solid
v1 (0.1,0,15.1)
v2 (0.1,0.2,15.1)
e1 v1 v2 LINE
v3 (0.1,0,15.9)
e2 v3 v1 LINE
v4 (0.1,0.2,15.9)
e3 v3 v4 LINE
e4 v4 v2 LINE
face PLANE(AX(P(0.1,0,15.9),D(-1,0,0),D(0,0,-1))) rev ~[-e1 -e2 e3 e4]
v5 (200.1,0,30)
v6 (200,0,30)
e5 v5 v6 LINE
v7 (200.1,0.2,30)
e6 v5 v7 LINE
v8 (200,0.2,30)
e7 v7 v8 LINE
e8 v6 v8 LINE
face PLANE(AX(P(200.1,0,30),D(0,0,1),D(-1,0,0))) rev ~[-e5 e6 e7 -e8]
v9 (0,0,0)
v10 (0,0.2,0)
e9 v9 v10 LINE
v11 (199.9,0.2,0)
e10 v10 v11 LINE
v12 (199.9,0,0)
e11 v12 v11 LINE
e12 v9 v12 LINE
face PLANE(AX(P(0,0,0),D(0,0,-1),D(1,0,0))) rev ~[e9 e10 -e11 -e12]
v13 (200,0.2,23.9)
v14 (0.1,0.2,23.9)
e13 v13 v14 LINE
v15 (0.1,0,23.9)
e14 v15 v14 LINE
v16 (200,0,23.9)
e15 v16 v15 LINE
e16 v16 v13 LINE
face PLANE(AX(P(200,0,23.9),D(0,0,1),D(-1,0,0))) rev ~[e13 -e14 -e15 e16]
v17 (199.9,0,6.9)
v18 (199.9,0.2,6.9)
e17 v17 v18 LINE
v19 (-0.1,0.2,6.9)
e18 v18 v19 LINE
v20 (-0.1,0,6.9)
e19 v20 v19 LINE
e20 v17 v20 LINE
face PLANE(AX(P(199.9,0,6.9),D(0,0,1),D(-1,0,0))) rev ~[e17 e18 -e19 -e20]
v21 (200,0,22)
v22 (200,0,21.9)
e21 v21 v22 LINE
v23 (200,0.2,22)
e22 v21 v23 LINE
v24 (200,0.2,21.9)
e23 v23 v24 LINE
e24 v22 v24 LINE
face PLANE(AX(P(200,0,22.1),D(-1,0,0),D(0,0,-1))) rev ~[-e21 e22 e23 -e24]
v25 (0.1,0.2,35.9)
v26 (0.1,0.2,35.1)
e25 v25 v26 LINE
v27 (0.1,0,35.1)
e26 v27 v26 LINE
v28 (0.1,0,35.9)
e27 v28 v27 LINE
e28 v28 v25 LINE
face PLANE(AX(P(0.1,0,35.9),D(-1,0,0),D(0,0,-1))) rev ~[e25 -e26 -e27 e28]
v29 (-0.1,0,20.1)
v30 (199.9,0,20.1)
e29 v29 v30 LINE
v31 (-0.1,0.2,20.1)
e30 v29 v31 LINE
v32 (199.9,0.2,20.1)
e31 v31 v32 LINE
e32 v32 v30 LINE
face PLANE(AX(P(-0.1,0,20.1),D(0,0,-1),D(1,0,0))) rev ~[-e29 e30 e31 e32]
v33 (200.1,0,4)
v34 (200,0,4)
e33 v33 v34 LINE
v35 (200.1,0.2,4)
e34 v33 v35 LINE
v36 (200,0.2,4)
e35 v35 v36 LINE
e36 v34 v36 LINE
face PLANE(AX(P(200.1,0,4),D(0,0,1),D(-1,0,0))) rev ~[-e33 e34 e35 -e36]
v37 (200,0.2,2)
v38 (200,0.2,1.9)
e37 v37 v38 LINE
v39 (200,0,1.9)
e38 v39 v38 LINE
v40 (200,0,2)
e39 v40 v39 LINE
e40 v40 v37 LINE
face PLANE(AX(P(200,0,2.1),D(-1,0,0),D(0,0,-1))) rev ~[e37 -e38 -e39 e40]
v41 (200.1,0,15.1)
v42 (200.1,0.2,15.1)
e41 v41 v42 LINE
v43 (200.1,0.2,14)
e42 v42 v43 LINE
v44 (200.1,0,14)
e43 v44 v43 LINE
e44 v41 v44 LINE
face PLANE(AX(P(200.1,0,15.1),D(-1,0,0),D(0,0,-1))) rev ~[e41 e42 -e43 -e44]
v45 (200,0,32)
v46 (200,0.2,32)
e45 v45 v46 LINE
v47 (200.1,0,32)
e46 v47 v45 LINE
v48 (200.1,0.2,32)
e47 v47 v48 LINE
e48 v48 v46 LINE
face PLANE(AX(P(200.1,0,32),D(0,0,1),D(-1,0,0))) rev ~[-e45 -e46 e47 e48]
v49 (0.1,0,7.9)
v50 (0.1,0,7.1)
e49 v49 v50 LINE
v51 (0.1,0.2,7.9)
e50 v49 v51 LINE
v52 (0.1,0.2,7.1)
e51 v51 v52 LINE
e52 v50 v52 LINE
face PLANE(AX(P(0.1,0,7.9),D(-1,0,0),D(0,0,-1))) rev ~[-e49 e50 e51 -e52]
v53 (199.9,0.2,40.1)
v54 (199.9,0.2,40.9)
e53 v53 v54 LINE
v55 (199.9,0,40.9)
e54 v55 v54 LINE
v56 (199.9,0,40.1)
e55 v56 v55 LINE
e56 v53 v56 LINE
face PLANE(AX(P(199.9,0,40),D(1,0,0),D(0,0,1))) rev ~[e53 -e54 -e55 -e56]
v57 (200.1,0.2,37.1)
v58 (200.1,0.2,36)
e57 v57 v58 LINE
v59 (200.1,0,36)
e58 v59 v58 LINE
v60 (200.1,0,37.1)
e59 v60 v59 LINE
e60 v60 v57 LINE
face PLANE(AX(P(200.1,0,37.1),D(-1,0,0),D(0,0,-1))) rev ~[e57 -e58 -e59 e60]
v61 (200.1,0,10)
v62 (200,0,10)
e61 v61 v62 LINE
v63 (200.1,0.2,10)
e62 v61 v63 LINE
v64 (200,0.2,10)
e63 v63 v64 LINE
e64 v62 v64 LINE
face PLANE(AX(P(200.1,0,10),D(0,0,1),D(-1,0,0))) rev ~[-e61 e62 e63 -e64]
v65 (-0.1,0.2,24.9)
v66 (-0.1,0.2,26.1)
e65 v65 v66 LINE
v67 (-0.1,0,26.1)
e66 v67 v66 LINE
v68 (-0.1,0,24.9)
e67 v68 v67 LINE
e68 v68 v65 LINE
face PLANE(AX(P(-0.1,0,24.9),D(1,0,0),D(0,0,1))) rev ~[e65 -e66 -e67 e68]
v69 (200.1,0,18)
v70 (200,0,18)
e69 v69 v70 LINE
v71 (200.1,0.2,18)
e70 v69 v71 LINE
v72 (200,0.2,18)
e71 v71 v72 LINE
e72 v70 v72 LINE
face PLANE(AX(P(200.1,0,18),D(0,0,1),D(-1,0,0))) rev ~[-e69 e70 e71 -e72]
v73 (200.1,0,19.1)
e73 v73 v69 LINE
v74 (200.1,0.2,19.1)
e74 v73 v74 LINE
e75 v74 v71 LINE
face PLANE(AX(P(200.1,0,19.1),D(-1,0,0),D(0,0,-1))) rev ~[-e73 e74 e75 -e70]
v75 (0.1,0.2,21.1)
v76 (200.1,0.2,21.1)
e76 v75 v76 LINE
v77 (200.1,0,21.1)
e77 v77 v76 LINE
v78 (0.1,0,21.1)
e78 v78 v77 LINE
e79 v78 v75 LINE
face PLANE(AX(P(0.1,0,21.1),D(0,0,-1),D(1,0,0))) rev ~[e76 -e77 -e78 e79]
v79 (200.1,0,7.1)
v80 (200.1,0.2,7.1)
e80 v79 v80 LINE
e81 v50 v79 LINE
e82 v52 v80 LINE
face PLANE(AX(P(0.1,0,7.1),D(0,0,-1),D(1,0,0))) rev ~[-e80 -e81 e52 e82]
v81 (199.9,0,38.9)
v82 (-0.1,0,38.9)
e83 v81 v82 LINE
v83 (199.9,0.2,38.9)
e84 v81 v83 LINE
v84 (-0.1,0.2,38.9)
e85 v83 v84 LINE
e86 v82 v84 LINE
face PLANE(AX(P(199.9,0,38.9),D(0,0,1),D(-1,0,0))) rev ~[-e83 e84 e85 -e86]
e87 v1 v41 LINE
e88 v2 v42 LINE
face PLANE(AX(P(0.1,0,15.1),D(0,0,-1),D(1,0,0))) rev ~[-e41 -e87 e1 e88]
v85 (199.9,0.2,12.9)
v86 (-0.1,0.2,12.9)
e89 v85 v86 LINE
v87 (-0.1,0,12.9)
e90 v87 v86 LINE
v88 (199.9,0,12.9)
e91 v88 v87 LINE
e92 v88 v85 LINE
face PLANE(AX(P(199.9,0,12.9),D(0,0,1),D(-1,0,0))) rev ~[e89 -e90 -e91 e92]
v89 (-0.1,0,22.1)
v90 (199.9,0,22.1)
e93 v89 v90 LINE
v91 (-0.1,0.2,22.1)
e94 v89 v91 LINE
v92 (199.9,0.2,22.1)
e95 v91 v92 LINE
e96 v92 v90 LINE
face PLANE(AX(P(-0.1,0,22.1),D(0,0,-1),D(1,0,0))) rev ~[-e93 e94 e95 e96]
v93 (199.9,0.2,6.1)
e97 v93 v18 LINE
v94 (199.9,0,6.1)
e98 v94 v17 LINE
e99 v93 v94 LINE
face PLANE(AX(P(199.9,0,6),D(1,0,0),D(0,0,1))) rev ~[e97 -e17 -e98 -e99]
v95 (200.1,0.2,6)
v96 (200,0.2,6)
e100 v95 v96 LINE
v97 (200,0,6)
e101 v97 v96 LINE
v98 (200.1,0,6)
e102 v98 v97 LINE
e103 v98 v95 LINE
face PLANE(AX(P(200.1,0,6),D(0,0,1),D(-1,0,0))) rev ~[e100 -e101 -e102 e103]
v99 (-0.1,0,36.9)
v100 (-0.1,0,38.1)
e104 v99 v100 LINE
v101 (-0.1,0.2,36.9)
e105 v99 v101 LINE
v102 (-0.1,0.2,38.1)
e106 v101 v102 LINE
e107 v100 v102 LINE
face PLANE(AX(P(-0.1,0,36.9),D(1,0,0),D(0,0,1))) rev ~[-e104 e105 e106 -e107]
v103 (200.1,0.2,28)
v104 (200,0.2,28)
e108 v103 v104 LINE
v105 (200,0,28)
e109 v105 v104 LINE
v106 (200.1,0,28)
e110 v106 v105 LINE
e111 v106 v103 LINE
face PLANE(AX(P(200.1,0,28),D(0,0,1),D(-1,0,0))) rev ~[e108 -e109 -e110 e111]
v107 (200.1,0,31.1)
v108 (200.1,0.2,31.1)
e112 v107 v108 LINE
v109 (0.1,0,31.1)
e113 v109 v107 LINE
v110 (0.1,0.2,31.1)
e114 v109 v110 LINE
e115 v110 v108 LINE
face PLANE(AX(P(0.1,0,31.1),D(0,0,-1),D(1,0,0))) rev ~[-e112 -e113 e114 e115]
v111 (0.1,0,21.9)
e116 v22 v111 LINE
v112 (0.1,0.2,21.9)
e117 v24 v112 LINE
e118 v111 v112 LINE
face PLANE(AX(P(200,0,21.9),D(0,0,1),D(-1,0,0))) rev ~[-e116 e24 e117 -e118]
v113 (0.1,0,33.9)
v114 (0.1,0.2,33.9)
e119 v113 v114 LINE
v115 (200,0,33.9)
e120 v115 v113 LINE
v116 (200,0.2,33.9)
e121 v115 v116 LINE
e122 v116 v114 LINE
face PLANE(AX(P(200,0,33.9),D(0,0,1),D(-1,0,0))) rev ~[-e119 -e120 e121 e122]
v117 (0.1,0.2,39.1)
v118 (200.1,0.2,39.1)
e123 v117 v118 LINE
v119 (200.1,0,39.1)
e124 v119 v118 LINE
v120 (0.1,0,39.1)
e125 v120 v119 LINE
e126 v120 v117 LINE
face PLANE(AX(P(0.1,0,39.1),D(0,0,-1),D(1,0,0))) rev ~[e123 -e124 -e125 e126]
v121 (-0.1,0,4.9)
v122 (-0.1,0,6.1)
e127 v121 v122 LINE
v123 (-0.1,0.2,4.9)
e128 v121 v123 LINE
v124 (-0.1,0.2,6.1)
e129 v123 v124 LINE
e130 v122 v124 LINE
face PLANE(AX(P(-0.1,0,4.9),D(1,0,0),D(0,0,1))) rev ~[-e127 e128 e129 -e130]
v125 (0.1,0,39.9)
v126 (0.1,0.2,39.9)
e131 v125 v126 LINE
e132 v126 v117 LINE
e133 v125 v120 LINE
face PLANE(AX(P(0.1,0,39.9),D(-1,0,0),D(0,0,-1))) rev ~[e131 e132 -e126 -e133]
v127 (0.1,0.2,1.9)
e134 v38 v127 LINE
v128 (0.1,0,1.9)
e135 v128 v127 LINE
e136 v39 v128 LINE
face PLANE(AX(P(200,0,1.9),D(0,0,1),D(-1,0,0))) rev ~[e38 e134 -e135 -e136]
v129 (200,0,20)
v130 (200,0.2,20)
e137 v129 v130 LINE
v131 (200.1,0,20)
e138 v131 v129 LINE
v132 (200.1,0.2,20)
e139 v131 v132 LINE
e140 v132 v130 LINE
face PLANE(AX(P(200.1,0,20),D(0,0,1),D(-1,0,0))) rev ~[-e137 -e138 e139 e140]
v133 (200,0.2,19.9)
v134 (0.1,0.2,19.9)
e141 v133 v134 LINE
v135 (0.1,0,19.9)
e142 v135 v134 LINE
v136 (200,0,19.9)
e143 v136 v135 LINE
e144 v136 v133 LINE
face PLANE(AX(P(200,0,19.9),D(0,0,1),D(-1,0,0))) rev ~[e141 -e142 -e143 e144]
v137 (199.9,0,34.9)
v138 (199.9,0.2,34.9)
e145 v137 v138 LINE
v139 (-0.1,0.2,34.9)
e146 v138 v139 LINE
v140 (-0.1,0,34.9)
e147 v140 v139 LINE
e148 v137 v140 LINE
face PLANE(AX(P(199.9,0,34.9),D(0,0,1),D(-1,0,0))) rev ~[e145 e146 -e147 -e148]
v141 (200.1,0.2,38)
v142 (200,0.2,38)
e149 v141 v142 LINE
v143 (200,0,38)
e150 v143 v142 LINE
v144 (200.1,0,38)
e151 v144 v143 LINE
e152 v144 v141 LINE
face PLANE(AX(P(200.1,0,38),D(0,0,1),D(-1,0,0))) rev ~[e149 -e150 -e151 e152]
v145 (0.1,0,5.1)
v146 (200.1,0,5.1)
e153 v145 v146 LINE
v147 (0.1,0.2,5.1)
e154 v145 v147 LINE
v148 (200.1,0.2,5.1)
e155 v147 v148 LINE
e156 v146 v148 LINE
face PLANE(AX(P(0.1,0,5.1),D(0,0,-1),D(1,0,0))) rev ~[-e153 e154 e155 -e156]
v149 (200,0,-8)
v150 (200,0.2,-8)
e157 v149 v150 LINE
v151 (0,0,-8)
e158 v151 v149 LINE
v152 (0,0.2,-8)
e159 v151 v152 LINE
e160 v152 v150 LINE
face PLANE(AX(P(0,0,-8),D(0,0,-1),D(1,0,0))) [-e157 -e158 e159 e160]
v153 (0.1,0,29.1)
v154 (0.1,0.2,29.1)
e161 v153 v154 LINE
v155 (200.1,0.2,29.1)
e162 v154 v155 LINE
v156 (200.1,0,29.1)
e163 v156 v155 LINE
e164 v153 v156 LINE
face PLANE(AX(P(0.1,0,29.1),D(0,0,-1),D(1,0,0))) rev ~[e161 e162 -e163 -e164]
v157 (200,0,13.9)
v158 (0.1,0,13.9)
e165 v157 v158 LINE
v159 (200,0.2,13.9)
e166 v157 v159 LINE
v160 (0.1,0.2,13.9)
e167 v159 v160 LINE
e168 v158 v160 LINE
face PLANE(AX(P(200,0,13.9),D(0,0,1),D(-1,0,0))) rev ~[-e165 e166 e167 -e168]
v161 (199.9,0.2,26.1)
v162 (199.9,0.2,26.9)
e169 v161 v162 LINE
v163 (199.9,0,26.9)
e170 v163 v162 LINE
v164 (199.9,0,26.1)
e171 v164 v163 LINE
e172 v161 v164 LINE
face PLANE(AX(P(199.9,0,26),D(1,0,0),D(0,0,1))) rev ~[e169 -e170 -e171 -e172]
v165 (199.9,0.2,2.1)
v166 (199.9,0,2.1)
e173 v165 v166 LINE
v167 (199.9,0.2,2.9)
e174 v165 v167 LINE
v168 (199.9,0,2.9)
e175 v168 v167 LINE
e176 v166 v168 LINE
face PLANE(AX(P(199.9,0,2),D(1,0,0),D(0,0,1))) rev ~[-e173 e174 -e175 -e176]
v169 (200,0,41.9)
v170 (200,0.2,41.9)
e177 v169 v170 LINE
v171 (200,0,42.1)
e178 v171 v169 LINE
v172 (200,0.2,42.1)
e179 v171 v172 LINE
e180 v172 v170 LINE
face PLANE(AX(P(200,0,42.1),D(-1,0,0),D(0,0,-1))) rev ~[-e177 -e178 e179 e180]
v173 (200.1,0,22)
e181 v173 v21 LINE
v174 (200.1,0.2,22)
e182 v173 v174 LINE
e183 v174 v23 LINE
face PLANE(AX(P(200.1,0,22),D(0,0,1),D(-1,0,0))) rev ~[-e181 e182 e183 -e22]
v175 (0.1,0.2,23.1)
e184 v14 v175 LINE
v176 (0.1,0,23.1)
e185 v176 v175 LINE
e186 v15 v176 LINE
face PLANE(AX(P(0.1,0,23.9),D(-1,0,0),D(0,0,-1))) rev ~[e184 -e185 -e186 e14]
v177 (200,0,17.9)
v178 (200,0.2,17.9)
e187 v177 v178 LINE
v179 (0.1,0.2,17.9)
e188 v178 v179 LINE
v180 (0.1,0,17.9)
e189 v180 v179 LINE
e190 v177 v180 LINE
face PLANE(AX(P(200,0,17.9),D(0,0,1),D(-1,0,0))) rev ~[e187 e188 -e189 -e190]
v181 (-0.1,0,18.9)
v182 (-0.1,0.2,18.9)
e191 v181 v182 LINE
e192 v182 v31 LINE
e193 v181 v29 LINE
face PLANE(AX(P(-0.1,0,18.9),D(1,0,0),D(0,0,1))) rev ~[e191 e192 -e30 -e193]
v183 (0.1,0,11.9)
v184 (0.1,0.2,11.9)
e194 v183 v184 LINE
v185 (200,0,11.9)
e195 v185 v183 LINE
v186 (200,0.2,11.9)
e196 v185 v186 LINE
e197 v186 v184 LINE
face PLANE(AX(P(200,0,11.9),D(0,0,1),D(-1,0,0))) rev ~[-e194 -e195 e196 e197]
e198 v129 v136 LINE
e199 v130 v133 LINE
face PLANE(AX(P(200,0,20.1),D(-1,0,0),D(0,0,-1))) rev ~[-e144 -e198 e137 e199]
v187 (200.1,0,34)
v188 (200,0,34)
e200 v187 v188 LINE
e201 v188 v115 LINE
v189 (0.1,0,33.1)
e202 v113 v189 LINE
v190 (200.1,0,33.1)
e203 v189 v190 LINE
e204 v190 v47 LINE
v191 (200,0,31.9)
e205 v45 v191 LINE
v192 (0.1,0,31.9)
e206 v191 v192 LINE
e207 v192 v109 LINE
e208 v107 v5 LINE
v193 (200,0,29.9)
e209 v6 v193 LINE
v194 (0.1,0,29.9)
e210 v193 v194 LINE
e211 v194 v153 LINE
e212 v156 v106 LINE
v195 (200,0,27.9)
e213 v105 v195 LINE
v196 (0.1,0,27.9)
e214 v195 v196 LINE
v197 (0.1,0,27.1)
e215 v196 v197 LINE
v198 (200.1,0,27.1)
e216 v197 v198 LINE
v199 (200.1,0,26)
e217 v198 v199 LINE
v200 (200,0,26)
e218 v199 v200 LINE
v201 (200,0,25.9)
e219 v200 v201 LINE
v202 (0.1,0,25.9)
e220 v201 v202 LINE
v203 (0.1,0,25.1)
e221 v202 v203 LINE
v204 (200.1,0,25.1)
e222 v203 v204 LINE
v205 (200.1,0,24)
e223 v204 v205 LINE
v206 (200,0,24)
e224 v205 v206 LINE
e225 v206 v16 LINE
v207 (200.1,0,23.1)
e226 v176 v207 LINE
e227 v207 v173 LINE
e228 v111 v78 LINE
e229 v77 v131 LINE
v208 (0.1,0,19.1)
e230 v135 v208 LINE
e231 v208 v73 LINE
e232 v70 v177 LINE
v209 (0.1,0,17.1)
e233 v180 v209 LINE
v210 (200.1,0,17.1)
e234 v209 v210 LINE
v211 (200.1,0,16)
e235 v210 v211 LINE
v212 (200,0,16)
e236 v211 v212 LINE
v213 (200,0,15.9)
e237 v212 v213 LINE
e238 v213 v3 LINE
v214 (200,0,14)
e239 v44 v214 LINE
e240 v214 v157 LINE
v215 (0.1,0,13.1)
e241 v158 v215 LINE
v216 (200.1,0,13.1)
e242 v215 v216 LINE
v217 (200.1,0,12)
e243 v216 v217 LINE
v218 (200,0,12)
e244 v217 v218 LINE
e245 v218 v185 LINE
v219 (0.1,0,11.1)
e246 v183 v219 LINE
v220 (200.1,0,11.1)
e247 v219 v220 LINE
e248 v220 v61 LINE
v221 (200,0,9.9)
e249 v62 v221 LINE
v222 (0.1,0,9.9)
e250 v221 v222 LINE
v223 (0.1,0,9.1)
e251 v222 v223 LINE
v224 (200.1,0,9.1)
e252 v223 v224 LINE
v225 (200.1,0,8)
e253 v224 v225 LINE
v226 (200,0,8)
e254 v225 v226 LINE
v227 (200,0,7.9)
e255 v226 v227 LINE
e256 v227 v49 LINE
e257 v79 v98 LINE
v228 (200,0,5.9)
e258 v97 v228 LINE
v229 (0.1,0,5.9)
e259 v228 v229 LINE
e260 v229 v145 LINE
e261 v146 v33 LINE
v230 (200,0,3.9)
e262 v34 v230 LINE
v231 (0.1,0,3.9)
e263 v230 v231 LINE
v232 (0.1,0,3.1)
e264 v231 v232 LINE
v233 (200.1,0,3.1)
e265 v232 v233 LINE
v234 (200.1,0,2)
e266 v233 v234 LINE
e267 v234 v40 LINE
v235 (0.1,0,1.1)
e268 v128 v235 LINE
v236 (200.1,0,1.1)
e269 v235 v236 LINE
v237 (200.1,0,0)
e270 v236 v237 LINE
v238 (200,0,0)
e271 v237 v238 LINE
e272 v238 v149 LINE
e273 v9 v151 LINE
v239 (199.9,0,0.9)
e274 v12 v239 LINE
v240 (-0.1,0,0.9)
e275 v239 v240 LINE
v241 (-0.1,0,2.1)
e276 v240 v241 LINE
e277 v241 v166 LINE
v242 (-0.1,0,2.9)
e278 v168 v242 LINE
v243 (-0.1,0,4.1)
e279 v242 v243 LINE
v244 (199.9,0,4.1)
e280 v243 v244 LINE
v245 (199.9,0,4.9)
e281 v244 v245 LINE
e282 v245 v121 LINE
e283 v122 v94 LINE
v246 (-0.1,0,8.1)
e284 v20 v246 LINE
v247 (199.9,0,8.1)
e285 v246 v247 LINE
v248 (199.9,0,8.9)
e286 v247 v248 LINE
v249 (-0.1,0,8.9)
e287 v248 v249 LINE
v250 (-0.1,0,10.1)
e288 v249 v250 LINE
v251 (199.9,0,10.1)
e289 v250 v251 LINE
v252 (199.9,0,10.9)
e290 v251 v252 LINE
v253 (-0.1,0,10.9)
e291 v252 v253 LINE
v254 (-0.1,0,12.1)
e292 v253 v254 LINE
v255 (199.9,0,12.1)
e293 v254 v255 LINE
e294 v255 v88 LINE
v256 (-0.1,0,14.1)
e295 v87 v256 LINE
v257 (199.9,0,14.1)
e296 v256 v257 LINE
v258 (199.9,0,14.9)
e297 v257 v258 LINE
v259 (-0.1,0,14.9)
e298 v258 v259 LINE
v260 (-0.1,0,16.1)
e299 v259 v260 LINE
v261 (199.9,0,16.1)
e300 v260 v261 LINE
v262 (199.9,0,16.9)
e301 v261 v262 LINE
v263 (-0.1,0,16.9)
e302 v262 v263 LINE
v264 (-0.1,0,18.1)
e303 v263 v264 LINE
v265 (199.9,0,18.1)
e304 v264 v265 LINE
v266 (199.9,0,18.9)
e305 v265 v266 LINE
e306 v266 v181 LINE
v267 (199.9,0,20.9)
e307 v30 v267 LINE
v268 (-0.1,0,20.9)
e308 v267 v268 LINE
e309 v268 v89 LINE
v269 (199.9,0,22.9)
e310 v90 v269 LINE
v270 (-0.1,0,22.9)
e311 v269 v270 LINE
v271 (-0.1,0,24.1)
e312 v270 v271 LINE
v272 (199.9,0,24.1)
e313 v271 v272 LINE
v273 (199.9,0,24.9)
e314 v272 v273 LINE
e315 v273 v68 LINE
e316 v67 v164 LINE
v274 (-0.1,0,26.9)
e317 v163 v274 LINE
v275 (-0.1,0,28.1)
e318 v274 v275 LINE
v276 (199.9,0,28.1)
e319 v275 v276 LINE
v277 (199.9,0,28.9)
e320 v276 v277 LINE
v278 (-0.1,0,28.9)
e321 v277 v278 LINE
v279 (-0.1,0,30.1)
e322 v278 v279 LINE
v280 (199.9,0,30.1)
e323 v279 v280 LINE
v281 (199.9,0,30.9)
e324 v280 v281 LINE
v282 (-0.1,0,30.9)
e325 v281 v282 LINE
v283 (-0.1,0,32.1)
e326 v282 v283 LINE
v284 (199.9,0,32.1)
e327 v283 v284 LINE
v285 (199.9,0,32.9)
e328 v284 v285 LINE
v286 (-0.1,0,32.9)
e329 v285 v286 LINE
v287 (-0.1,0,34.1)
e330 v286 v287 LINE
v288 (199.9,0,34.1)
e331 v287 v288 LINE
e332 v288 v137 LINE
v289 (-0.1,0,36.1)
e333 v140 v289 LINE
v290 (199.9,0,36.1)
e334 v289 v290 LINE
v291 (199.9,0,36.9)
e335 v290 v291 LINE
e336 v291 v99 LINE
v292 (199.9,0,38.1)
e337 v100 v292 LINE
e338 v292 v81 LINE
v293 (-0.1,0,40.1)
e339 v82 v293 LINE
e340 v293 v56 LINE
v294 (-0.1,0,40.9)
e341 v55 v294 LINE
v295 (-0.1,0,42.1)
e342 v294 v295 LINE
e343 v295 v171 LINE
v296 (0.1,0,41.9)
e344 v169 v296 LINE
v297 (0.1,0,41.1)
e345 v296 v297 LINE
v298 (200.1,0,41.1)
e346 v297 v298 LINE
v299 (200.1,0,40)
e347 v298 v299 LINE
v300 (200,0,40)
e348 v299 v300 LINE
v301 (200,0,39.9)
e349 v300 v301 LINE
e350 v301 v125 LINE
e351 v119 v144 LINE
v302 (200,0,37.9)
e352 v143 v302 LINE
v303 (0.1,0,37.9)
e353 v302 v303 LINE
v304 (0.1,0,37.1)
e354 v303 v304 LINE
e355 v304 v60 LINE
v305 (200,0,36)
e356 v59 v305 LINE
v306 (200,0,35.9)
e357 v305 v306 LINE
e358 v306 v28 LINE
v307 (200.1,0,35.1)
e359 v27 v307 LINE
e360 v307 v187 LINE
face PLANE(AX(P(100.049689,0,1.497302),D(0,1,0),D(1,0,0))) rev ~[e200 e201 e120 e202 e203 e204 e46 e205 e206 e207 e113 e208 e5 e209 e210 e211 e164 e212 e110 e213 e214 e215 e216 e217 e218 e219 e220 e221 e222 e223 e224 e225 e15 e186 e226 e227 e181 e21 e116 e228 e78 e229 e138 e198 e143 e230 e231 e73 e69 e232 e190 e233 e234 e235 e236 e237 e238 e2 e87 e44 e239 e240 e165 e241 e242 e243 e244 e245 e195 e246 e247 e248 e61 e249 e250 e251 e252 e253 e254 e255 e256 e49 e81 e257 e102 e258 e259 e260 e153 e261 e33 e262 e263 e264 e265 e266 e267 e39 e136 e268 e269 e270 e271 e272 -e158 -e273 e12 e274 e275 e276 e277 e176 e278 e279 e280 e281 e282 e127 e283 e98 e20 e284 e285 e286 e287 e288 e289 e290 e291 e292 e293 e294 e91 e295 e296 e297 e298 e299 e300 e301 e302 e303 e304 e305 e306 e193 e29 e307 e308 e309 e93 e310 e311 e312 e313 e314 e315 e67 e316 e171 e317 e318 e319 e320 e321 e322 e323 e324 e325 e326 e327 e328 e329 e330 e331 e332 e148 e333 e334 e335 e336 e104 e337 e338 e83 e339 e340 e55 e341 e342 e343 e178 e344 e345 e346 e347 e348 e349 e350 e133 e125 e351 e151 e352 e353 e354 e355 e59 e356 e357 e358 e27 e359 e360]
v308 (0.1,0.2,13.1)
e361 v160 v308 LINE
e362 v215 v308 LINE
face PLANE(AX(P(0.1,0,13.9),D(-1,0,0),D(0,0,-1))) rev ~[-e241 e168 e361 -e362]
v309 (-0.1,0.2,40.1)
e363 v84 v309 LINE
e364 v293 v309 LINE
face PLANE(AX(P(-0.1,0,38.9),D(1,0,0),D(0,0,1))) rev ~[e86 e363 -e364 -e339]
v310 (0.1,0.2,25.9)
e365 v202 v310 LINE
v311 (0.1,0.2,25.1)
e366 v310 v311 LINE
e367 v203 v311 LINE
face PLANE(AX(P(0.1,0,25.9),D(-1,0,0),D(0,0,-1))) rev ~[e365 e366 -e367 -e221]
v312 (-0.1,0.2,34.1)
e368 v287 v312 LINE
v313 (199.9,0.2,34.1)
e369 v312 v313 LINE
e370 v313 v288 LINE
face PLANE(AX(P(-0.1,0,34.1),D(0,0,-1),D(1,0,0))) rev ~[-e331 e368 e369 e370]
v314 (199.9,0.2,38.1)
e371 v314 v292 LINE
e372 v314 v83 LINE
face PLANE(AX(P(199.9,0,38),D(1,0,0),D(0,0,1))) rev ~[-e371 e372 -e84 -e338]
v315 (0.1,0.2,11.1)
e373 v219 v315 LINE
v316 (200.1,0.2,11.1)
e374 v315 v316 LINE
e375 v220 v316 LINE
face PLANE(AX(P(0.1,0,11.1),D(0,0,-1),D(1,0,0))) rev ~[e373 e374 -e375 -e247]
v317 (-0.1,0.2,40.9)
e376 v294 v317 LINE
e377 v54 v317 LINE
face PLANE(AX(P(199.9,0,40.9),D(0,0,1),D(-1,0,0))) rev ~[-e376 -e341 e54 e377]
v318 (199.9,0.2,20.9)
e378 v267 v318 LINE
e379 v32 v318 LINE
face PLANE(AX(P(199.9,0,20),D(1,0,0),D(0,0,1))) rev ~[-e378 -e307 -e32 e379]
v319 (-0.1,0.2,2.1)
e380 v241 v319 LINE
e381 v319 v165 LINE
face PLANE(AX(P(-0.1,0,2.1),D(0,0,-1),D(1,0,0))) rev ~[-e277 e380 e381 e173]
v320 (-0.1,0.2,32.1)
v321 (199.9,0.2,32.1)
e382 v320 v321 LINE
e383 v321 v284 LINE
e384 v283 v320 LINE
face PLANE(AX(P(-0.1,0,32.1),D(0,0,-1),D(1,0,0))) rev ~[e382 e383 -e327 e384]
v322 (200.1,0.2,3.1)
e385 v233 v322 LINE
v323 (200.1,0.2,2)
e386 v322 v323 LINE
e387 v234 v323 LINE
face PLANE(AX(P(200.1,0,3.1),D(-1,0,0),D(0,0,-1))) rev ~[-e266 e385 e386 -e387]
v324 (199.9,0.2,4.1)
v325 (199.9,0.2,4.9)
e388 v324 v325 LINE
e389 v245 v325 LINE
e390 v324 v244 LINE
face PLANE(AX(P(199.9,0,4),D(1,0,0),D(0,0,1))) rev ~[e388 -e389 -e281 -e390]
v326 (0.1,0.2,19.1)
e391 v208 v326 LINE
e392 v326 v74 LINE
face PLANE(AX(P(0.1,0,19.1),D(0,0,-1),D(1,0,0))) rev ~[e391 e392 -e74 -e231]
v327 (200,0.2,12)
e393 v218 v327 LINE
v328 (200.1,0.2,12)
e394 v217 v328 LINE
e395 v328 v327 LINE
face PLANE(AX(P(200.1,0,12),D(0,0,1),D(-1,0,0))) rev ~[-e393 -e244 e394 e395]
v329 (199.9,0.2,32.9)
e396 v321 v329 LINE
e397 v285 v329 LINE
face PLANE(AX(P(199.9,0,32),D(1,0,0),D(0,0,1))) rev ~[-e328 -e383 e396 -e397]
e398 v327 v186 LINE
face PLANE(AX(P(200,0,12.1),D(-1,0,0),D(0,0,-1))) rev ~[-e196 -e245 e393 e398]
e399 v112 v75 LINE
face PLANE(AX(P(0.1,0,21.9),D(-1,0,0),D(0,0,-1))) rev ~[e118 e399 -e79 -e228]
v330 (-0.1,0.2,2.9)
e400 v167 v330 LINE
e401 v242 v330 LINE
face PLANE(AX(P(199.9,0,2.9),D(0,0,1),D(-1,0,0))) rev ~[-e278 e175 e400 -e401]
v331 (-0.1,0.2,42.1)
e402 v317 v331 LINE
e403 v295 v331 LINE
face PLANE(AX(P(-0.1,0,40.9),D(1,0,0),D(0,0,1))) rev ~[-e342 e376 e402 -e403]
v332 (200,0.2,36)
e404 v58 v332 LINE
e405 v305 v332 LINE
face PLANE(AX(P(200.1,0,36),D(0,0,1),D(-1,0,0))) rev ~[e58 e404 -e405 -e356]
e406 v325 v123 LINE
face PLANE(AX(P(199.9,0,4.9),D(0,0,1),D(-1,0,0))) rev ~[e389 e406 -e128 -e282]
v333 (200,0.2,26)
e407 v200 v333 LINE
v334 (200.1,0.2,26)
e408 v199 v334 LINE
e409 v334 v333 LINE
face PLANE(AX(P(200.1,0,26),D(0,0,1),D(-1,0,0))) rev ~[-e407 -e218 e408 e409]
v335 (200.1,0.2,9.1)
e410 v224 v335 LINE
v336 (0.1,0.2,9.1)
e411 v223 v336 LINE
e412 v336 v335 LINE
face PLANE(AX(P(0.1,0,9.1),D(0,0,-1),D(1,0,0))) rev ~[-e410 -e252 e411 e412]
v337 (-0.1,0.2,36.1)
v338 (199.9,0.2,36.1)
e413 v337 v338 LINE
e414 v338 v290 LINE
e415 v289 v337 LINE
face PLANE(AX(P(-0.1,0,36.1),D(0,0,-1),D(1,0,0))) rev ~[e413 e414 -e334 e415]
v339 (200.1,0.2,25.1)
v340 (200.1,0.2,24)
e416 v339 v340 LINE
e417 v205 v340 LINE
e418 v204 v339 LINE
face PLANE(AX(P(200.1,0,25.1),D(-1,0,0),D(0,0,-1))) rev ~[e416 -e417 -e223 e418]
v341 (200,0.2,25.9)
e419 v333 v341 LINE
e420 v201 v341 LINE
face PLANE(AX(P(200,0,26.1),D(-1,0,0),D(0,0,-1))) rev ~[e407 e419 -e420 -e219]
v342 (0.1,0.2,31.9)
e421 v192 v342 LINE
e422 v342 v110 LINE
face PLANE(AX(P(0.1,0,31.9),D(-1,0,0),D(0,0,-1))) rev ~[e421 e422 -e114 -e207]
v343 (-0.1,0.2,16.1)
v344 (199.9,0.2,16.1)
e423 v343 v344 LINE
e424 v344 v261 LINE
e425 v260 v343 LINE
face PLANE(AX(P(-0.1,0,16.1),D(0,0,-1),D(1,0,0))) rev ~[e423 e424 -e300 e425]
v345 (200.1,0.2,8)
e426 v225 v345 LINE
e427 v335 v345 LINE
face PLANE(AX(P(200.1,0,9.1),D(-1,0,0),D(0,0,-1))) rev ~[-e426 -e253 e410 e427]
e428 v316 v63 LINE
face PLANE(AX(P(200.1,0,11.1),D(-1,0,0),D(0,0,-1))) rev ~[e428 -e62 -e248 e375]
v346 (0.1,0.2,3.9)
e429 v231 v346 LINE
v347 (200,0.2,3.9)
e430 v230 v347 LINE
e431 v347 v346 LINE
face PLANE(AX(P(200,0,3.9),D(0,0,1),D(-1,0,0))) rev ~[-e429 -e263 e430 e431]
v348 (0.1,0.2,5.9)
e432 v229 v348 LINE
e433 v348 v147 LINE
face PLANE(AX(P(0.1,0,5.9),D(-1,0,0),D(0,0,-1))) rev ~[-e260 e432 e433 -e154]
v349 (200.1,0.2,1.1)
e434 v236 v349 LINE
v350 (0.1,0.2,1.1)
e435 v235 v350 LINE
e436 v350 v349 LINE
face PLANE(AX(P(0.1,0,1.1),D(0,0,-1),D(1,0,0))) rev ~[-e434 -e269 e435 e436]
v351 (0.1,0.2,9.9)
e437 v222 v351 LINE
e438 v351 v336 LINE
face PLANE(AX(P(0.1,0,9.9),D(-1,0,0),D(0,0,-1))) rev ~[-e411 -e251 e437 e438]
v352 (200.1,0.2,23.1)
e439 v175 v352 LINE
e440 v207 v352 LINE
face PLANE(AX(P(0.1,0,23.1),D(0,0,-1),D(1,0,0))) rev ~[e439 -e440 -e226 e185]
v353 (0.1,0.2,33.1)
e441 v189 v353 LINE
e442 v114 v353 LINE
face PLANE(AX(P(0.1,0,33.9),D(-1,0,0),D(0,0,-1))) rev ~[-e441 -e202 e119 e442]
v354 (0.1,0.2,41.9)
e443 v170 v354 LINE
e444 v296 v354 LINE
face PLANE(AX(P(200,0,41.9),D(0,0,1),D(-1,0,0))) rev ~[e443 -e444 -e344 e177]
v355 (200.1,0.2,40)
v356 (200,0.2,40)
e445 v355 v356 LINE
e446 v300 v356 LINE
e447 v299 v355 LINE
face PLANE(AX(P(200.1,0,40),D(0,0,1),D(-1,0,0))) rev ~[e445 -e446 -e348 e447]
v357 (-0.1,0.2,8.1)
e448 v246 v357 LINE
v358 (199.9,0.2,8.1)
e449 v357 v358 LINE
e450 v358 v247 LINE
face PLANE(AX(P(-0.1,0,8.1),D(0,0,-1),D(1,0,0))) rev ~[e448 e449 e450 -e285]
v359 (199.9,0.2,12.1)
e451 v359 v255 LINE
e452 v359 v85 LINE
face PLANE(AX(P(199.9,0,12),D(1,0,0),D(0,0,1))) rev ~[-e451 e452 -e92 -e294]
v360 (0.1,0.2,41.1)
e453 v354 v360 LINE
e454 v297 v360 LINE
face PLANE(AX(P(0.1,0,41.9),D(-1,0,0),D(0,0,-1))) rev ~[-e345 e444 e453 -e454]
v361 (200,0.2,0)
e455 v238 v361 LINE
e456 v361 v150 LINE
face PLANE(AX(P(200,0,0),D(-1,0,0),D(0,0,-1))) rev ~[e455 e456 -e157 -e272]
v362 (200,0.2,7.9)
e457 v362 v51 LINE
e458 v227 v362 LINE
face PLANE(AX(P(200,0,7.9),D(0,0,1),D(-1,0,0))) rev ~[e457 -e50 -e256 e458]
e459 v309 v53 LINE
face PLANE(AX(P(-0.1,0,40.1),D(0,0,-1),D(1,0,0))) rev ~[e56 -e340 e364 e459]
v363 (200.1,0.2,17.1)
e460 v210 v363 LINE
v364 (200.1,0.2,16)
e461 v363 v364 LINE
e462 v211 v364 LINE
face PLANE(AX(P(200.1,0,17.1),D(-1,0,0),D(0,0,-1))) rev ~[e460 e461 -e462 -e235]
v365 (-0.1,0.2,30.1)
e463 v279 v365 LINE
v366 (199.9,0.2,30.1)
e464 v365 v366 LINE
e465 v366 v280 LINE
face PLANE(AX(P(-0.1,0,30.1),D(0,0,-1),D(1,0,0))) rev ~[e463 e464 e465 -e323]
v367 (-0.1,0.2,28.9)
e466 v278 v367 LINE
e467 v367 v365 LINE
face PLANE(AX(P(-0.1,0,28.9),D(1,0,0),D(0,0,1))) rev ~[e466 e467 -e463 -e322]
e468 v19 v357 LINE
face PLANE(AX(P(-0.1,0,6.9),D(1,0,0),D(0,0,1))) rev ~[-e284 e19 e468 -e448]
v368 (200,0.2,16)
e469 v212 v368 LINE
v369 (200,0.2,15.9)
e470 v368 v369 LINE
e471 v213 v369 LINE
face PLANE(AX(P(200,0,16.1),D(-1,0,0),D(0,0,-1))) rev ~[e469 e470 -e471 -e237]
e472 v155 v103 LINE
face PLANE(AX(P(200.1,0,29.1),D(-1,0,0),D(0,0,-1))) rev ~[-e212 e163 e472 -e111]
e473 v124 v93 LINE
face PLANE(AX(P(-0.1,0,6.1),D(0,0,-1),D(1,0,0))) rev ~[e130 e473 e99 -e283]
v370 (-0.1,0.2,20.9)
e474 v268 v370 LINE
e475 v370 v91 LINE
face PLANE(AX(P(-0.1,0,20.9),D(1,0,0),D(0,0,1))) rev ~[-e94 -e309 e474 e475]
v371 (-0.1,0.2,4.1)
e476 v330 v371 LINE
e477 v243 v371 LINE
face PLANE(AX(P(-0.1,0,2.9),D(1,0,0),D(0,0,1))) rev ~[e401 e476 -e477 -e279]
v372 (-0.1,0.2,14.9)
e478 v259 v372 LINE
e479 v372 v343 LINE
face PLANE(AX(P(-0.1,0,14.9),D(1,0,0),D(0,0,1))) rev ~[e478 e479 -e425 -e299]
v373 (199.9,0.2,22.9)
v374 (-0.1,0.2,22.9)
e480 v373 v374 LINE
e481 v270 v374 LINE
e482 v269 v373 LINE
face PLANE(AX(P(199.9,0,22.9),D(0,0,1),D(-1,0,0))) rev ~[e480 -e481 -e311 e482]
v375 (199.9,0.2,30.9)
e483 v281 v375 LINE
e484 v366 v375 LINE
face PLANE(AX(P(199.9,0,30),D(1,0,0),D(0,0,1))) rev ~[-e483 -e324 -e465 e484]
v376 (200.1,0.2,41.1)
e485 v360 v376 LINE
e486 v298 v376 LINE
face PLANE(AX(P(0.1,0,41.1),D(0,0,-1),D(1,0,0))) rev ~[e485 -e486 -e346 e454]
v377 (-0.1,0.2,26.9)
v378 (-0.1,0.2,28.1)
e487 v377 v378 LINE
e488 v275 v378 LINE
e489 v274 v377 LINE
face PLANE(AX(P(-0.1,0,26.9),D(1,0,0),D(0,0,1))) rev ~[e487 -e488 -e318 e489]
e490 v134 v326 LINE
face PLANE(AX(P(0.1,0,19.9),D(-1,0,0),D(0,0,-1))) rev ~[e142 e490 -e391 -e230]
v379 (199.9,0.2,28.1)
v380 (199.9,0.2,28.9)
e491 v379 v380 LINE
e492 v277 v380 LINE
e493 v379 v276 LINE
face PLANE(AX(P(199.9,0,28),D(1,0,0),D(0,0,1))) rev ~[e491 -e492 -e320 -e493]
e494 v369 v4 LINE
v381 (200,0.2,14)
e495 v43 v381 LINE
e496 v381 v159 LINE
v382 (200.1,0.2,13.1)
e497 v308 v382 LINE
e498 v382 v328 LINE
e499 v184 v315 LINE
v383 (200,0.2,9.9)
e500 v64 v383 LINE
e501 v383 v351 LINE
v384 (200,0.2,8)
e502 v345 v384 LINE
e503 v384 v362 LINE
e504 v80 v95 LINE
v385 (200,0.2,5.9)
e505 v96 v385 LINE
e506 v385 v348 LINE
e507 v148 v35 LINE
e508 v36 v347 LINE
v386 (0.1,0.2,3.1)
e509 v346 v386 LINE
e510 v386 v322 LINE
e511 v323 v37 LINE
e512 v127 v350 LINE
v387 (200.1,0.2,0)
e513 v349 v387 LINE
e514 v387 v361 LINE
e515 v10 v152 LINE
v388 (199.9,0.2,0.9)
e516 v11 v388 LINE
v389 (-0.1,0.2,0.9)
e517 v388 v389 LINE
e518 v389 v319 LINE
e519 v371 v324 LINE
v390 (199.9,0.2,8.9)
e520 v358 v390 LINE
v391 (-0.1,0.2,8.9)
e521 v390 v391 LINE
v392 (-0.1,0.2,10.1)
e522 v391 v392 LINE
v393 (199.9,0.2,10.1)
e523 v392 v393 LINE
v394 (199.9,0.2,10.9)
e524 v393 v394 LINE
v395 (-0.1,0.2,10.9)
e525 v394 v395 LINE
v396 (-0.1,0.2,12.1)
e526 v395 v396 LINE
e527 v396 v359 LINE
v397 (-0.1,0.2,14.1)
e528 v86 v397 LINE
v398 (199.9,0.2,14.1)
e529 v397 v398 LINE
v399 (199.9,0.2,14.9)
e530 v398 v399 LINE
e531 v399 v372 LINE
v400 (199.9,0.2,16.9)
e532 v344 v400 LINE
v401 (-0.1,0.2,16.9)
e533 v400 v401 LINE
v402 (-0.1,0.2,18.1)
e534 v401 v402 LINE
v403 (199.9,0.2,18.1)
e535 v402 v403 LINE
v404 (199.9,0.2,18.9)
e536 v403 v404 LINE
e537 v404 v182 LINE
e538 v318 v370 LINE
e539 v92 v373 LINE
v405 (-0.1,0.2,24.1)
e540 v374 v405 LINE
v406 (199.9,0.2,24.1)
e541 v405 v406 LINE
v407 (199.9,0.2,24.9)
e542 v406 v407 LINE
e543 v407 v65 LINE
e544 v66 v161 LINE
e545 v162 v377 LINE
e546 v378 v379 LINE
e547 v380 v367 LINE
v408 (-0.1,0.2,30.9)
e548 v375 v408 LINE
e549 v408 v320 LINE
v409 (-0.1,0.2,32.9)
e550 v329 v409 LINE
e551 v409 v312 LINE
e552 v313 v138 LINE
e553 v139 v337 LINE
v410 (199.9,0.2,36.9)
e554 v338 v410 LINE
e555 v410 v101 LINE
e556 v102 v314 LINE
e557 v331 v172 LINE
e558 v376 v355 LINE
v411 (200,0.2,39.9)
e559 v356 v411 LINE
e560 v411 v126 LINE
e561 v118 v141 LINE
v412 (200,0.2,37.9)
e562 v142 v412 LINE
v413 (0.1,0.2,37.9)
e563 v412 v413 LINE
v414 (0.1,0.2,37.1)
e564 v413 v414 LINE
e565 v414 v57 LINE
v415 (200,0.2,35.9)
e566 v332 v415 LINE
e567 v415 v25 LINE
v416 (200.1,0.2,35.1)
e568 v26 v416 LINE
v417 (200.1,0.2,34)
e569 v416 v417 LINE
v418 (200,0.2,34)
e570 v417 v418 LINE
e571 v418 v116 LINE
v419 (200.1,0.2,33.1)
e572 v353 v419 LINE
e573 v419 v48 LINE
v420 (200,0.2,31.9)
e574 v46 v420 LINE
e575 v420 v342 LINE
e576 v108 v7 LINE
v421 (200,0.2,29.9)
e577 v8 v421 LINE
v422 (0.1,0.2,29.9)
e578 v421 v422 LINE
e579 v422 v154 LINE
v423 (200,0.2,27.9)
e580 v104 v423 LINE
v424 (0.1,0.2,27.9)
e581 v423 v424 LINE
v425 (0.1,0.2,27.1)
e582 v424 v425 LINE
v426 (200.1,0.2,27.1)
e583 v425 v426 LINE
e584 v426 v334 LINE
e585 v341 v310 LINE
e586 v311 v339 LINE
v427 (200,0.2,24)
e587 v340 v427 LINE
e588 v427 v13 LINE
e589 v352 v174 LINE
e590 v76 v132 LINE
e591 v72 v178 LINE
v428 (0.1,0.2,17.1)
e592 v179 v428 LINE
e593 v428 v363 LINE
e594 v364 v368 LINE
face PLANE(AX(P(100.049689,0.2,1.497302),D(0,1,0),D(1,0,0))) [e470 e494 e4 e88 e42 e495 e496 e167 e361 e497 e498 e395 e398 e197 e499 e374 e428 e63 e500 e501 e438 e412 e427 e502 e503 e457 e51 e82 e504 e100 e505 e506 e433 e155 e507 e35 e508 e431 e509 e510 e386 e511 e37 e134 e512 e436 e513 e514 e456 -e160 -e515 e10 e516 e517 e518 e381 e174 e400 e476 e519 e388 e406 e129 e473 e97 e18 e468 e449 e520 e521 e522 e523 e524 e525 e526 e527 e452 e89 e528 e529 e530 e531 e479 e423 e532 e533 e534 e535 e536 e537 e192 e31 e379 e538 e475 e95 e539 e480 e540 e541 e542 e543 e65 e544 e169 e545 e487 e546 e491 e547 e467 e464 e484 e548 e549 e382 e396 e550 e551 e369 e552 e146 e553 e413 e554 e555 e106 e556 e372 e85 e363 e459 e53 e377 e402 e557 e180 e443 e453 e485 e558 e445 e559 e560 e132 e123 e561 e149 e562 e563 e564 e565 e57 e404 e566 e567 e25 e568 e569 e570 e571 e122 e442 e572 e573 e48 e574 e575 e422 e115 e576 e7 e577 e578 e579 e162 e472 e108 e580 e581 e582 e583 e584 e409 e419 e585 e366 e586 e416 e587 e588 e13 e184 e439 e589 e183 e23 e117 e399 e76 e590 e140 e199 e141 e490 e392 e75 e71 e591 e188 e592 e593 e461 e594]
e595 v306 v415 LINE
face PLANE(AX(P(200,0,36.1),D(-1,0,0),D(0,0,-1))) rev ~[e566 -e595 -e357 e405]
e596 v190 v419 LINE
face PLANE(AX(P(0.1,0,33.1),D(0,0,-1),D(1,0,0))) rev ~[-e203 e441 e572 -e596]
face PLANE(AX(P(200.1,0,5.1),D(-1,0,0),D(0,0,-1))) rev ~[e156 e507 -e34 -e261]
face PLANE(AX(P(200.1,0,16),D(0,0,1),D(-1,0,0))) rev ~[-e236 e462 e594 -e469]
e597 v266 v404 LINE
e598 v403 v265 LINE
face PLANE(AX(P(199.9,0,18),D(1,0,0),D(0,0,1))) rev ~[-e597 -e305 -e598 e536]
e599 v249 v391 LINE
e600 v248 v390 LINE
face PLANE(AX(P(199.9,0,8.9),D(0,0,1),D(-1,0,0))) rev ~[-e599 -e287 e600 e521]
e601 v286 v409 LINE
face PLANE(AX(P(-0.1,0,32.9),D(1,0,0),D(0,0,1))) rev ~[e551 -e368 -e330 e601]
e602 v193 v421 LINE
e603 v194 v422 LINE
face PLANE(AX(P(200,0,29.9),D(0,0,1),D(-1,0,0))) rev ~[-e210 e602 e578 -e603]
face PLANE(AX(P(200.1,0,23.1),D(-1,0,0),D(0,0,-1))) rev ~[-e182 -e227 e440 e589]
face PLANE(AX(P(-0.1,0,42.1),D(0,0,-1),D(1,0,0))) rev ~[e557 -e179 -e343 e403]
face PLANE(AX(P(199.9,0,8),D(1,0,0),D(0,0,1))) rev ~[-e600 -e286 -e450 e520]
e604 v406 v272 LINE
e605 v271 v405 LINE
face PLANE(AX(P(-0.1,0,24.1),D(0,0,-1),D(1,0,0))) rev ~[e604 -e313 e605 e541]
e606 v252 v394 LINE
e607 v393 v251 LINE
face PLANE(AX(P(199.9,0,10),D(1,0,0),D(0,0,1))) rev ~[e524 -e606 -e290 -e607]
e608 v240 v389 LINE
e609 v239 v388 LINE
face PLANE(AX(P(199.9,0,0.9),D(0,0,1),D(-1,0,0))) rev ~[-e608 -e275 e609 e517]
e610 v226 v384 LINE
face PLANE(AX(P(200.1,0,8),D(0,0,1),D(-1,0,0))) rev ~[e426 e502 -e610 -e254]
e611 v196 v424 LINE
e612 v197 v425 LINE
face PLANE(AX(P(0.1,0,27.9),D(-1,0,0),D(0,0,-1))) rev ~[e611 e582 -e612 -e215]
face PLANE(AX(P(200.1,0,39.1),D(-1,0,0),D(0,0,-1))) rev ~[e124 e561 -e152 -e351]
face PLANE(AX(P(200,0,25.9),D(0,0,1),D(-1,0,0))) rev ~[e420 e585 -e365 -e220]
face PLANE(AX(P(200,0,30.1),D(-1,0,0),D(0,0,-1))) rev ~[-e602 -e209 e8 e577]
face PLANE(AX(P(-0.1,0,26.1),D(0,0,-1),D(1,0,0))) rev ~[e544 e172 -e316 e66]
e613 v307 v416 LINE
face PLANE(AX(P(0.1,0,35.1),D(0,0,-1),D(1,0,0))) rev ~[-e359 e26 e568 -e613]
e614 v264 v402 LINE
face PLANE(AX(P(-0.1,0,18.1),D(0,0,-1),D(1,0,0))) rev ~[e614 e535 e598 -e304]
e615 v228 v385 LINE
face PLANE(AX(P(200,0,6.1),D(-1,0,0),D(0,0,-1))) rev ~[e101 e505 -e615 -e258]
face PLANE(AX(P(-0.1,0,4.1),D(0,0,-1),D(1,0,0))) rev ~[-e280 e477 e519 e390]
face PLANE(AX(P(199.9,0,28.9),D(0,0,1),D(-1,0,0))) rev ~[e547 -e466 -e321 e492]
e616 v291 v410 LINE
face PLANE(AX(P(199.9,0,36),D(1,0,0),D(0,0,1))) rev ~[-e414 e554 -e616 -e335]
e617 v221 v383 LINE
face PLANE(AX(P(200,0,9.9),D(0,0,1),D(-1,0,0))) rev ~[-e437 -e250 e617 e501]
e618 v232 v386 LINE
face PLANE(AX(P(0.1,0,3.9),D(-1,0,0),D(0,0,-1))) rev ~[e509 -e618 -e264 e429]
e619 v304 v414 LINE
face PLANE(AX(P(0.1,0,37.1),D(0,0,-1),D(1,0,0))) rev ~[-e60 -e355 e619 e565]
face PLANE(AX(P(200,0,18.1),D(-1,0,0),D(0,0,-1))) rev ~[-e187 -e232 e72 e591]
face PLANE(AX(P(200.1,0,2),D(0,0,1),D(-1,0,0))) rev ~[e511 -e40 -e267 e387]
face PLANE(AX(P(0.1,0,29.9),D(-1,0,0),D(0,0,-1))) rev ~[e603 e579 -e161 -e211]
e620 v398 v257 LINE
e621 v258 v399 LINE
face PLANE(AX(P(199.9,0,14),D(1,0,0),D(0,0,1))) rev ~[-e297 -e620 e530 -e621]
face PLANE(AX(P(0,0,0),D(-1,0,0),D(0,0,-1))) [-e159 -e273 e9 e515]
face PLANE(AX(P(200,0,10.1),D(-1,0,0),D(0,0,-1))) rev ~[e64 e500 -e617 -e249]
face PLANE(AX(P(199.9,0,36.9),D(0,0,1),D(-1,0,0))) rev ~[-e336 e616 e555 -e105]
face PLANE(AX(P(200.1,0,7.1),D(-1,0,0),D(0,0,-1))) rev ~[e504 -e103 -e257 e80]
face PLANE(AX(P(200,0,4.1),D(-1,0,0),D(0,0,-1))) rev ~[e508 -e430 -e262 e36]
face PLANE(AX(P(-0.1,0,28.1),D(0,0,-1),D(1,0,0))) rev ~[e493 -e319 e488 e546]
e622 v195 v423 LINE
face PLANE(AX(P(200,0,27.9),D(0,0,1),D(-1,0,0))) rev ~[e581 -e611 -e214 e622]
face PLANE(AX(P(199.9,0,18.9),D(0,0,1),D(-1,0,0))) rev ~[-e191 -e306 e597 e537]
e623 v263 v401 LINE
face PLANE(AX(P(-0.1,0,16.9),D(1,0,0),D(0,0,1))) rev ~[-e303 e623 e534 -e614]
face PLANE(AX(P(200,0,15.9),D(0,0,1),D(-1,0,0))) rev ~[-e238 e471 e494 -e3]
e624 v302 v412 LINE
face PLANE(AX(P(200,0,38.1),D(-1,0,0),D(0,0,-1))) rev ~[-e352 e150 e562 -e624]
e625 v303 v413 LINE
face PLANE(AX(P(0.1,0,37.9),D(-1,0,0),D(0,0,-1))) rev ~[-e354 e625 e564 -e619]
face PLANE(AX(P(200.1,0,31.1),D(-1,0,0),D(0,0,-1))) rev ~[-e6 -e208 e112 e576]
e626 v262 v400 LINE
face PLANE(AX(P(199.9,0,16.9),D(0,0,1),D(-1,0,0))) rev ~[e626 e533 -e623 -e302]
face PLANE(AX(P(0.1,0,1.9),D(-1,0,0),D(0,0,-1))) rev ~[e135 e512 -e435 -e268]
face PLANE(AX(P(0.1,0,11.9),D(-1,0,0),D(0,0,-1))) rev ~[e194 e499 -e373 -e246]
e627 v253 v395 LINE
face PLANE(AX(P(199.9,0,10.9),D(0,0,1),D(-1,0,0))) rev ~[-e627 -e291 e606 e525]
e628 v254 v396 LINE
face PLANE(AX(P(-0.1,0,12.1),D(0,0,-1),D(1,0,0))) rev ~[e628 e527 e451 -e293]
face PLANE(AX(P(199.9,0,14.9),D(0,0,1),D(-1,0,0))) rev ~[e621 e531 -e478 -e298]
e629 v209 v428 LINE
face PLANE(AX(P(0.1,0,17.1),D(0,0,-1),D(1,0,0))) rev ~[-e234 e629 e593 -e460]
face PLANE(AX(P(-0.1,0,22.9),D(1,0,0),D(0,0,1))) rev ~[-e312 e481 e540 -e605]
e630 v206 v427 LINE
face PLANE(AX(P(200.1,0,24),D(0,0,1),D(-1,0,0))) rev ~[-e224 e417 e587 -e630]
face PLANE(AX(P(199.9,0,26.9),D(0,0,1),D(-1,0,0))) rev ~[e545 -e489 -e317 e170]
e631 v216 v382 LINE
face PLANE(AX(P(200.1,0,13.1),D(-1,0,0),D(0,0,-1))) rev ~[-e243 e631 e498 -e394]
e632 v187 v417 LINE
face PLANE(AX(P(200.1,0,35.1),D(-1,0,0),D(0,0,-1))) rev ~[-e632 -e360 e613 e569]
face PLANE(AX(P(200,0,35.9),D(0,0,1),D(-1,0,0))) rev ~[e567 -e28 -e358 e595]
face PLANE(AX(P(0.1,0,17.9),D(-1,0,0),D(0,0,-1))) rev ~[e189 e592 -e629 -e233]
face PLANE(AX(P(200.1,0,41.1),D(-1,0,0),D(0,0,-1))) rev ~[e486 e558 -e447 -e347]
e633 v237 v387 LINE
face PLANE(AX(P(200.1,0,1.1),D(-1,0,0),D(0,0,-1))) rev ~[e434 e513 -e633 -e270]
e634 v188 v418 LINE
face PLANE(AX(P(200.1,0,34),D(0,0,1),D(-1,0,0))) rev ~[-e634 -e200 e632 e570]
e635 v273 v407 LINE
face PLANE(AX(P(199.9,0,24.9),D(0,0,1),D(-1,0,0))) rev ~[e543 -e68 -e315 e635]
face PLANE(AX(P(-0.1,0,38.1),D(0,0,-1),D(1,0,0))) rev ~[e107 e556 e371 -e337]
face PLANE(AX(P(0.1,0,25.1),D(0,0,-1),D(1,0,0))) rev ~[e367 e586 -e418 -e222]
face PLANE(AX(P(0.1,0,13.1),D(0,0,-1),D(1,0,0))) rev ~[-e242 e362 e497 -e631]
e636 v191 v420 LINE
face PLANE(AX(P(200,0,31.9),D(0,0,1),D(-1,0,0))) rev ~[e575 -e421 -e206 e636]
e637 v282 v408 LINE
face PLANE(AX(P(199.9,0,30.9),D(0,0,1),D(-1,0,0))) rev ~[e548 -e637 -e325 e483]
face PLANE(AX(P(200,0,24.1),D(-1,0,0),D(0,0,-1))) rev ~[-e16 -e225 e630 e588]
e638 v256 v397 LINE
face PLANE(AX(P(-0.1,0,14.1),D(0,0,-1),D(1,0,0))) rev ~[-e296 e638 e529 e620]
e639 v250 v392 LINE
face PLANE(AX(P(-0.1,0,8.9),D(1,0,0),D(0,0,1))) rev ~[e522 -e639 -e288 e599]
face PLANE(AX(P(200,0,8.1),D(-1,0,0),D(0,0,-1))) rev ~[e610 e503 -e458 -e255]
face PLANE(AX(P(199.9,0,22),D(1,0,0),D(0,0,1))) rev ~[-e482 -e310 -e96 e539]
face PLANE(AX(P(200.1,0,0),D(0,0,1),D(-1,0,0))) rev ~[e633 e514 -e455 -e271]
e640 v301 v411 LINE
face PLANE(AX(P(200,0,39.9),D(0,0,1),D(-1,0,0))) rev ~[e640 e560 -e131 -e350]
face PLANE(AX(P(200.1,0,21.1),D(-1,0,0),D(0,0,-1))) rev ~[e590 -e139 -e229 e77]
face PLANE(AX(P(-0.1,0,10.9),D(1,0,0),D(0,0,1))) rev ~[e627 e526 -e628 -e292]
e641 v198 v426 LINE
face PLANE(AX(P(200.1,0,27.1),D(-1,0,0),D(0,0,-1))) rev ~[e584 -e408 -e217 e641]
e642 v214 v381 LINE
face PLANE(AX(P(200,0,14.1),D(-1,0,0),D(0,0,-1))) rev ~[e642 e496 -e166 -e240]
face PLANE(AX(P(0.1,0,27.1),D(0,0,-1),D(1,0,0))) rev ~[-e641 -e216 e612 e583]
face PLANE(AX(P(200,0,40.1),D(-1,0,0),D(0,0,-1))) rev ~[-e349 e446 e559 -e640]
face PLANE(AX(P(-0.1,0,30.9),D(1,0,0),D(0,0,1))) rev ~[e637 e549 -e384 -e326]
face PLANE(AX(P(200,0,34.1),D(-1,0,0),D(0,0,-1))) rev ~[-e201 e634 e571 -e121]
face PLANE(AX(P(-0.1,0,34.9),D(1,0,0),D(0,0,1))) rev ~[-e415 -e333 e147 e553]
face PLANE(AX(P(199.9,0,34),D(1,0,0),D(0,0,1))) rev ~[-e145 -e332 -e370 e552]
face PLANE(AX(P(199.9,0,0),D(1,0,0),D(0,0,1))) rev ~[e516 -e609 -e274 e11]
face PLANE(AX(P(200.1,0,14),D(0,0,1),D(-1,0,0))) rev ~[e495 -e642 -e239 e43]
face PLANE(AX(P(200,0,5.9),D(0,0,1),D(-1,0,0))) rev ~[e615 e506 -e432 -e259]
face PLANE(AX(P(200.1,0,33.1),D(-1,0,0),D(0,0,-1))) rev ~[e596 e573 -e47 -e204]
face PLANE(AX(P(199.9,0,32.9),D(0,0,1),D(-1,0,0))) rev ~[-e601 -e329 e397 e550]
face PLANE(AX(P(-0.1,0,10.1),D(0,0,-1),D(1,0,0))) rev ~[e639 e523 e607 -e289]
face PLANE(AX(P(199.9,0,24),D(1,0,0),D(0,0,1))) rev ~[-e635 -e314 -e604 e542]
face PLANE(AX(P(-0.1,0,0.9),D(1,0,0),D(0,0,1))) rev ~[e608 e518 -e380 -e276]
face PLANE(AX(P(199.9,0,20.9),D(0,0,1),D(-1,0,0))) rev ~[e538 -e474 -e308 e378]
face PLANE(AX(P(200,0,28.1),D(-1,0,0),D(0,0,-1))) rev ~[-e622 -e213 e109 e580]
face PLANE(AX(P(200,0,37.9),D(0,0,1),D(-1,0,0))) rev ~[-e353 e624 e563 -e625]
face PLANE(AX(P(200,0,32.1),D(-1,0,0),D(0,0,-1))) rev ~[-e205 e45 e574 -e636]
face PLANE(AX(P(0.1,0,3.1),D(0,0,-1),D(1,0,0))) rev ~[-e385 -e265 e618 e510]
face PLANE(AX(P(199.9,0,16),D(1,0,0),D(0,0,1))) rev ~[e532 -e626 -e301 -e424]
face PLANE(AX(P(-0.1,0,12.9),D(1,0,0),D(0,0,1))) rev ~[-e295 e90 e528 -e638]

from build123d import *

# Parameters (mm, degrees)
SKETCH1_W           = 200
SKETCH1_H           = 8
BOSS_EXTRUDE1_DEPTH = 0.2
EXTRUDE_THIN1_DEPTH = 0.2
LPATTERN1_COUNT     = 21
LPATTERN1_PITCH     = 2


with BuildPart() as part:
    # Sketch1 → Boss-Extrude1 (new body)
    with BuildSketch(Plane(origin=(0, 0, 0), x_dir=(1, 0, 0), z_dir=(0, 1, 0))):
        with Locations((100, 4)):
            Rectangle(SKETCH1_W, SKETCH1_H)
    extrude(amount=BOSS_EXTRUDE1_DEPTH)

    # Sketch2 → Extrude-Thin1 (add)
    with BuildSketch(Plane(origin=(0, 0, 0), x_dir=(1, 0, 0), z_dir=(0, 1, 0))):
        Polygon((199.9, 0), (199.9, -0.9), (-0.1, -0.9), (-0.1, -2.1), (200, -2.1), (200, -1.9), (0.1, -1.9), (0.1, -1.1), (200.1, -1.1), (200.1, 0), align=None)
    extrude_thin1 = extrude(amount=EXTRUDE_THIN1_DEPTH)

    # LPattern1: Extrude-Thin1 ×21
    with Locations(*[(0, 0, i * LPATTERN1_PITCH) for i in range(1, LPATTERN1_COUNT)]):
        add(extrude_thin1)


solid = part.part
